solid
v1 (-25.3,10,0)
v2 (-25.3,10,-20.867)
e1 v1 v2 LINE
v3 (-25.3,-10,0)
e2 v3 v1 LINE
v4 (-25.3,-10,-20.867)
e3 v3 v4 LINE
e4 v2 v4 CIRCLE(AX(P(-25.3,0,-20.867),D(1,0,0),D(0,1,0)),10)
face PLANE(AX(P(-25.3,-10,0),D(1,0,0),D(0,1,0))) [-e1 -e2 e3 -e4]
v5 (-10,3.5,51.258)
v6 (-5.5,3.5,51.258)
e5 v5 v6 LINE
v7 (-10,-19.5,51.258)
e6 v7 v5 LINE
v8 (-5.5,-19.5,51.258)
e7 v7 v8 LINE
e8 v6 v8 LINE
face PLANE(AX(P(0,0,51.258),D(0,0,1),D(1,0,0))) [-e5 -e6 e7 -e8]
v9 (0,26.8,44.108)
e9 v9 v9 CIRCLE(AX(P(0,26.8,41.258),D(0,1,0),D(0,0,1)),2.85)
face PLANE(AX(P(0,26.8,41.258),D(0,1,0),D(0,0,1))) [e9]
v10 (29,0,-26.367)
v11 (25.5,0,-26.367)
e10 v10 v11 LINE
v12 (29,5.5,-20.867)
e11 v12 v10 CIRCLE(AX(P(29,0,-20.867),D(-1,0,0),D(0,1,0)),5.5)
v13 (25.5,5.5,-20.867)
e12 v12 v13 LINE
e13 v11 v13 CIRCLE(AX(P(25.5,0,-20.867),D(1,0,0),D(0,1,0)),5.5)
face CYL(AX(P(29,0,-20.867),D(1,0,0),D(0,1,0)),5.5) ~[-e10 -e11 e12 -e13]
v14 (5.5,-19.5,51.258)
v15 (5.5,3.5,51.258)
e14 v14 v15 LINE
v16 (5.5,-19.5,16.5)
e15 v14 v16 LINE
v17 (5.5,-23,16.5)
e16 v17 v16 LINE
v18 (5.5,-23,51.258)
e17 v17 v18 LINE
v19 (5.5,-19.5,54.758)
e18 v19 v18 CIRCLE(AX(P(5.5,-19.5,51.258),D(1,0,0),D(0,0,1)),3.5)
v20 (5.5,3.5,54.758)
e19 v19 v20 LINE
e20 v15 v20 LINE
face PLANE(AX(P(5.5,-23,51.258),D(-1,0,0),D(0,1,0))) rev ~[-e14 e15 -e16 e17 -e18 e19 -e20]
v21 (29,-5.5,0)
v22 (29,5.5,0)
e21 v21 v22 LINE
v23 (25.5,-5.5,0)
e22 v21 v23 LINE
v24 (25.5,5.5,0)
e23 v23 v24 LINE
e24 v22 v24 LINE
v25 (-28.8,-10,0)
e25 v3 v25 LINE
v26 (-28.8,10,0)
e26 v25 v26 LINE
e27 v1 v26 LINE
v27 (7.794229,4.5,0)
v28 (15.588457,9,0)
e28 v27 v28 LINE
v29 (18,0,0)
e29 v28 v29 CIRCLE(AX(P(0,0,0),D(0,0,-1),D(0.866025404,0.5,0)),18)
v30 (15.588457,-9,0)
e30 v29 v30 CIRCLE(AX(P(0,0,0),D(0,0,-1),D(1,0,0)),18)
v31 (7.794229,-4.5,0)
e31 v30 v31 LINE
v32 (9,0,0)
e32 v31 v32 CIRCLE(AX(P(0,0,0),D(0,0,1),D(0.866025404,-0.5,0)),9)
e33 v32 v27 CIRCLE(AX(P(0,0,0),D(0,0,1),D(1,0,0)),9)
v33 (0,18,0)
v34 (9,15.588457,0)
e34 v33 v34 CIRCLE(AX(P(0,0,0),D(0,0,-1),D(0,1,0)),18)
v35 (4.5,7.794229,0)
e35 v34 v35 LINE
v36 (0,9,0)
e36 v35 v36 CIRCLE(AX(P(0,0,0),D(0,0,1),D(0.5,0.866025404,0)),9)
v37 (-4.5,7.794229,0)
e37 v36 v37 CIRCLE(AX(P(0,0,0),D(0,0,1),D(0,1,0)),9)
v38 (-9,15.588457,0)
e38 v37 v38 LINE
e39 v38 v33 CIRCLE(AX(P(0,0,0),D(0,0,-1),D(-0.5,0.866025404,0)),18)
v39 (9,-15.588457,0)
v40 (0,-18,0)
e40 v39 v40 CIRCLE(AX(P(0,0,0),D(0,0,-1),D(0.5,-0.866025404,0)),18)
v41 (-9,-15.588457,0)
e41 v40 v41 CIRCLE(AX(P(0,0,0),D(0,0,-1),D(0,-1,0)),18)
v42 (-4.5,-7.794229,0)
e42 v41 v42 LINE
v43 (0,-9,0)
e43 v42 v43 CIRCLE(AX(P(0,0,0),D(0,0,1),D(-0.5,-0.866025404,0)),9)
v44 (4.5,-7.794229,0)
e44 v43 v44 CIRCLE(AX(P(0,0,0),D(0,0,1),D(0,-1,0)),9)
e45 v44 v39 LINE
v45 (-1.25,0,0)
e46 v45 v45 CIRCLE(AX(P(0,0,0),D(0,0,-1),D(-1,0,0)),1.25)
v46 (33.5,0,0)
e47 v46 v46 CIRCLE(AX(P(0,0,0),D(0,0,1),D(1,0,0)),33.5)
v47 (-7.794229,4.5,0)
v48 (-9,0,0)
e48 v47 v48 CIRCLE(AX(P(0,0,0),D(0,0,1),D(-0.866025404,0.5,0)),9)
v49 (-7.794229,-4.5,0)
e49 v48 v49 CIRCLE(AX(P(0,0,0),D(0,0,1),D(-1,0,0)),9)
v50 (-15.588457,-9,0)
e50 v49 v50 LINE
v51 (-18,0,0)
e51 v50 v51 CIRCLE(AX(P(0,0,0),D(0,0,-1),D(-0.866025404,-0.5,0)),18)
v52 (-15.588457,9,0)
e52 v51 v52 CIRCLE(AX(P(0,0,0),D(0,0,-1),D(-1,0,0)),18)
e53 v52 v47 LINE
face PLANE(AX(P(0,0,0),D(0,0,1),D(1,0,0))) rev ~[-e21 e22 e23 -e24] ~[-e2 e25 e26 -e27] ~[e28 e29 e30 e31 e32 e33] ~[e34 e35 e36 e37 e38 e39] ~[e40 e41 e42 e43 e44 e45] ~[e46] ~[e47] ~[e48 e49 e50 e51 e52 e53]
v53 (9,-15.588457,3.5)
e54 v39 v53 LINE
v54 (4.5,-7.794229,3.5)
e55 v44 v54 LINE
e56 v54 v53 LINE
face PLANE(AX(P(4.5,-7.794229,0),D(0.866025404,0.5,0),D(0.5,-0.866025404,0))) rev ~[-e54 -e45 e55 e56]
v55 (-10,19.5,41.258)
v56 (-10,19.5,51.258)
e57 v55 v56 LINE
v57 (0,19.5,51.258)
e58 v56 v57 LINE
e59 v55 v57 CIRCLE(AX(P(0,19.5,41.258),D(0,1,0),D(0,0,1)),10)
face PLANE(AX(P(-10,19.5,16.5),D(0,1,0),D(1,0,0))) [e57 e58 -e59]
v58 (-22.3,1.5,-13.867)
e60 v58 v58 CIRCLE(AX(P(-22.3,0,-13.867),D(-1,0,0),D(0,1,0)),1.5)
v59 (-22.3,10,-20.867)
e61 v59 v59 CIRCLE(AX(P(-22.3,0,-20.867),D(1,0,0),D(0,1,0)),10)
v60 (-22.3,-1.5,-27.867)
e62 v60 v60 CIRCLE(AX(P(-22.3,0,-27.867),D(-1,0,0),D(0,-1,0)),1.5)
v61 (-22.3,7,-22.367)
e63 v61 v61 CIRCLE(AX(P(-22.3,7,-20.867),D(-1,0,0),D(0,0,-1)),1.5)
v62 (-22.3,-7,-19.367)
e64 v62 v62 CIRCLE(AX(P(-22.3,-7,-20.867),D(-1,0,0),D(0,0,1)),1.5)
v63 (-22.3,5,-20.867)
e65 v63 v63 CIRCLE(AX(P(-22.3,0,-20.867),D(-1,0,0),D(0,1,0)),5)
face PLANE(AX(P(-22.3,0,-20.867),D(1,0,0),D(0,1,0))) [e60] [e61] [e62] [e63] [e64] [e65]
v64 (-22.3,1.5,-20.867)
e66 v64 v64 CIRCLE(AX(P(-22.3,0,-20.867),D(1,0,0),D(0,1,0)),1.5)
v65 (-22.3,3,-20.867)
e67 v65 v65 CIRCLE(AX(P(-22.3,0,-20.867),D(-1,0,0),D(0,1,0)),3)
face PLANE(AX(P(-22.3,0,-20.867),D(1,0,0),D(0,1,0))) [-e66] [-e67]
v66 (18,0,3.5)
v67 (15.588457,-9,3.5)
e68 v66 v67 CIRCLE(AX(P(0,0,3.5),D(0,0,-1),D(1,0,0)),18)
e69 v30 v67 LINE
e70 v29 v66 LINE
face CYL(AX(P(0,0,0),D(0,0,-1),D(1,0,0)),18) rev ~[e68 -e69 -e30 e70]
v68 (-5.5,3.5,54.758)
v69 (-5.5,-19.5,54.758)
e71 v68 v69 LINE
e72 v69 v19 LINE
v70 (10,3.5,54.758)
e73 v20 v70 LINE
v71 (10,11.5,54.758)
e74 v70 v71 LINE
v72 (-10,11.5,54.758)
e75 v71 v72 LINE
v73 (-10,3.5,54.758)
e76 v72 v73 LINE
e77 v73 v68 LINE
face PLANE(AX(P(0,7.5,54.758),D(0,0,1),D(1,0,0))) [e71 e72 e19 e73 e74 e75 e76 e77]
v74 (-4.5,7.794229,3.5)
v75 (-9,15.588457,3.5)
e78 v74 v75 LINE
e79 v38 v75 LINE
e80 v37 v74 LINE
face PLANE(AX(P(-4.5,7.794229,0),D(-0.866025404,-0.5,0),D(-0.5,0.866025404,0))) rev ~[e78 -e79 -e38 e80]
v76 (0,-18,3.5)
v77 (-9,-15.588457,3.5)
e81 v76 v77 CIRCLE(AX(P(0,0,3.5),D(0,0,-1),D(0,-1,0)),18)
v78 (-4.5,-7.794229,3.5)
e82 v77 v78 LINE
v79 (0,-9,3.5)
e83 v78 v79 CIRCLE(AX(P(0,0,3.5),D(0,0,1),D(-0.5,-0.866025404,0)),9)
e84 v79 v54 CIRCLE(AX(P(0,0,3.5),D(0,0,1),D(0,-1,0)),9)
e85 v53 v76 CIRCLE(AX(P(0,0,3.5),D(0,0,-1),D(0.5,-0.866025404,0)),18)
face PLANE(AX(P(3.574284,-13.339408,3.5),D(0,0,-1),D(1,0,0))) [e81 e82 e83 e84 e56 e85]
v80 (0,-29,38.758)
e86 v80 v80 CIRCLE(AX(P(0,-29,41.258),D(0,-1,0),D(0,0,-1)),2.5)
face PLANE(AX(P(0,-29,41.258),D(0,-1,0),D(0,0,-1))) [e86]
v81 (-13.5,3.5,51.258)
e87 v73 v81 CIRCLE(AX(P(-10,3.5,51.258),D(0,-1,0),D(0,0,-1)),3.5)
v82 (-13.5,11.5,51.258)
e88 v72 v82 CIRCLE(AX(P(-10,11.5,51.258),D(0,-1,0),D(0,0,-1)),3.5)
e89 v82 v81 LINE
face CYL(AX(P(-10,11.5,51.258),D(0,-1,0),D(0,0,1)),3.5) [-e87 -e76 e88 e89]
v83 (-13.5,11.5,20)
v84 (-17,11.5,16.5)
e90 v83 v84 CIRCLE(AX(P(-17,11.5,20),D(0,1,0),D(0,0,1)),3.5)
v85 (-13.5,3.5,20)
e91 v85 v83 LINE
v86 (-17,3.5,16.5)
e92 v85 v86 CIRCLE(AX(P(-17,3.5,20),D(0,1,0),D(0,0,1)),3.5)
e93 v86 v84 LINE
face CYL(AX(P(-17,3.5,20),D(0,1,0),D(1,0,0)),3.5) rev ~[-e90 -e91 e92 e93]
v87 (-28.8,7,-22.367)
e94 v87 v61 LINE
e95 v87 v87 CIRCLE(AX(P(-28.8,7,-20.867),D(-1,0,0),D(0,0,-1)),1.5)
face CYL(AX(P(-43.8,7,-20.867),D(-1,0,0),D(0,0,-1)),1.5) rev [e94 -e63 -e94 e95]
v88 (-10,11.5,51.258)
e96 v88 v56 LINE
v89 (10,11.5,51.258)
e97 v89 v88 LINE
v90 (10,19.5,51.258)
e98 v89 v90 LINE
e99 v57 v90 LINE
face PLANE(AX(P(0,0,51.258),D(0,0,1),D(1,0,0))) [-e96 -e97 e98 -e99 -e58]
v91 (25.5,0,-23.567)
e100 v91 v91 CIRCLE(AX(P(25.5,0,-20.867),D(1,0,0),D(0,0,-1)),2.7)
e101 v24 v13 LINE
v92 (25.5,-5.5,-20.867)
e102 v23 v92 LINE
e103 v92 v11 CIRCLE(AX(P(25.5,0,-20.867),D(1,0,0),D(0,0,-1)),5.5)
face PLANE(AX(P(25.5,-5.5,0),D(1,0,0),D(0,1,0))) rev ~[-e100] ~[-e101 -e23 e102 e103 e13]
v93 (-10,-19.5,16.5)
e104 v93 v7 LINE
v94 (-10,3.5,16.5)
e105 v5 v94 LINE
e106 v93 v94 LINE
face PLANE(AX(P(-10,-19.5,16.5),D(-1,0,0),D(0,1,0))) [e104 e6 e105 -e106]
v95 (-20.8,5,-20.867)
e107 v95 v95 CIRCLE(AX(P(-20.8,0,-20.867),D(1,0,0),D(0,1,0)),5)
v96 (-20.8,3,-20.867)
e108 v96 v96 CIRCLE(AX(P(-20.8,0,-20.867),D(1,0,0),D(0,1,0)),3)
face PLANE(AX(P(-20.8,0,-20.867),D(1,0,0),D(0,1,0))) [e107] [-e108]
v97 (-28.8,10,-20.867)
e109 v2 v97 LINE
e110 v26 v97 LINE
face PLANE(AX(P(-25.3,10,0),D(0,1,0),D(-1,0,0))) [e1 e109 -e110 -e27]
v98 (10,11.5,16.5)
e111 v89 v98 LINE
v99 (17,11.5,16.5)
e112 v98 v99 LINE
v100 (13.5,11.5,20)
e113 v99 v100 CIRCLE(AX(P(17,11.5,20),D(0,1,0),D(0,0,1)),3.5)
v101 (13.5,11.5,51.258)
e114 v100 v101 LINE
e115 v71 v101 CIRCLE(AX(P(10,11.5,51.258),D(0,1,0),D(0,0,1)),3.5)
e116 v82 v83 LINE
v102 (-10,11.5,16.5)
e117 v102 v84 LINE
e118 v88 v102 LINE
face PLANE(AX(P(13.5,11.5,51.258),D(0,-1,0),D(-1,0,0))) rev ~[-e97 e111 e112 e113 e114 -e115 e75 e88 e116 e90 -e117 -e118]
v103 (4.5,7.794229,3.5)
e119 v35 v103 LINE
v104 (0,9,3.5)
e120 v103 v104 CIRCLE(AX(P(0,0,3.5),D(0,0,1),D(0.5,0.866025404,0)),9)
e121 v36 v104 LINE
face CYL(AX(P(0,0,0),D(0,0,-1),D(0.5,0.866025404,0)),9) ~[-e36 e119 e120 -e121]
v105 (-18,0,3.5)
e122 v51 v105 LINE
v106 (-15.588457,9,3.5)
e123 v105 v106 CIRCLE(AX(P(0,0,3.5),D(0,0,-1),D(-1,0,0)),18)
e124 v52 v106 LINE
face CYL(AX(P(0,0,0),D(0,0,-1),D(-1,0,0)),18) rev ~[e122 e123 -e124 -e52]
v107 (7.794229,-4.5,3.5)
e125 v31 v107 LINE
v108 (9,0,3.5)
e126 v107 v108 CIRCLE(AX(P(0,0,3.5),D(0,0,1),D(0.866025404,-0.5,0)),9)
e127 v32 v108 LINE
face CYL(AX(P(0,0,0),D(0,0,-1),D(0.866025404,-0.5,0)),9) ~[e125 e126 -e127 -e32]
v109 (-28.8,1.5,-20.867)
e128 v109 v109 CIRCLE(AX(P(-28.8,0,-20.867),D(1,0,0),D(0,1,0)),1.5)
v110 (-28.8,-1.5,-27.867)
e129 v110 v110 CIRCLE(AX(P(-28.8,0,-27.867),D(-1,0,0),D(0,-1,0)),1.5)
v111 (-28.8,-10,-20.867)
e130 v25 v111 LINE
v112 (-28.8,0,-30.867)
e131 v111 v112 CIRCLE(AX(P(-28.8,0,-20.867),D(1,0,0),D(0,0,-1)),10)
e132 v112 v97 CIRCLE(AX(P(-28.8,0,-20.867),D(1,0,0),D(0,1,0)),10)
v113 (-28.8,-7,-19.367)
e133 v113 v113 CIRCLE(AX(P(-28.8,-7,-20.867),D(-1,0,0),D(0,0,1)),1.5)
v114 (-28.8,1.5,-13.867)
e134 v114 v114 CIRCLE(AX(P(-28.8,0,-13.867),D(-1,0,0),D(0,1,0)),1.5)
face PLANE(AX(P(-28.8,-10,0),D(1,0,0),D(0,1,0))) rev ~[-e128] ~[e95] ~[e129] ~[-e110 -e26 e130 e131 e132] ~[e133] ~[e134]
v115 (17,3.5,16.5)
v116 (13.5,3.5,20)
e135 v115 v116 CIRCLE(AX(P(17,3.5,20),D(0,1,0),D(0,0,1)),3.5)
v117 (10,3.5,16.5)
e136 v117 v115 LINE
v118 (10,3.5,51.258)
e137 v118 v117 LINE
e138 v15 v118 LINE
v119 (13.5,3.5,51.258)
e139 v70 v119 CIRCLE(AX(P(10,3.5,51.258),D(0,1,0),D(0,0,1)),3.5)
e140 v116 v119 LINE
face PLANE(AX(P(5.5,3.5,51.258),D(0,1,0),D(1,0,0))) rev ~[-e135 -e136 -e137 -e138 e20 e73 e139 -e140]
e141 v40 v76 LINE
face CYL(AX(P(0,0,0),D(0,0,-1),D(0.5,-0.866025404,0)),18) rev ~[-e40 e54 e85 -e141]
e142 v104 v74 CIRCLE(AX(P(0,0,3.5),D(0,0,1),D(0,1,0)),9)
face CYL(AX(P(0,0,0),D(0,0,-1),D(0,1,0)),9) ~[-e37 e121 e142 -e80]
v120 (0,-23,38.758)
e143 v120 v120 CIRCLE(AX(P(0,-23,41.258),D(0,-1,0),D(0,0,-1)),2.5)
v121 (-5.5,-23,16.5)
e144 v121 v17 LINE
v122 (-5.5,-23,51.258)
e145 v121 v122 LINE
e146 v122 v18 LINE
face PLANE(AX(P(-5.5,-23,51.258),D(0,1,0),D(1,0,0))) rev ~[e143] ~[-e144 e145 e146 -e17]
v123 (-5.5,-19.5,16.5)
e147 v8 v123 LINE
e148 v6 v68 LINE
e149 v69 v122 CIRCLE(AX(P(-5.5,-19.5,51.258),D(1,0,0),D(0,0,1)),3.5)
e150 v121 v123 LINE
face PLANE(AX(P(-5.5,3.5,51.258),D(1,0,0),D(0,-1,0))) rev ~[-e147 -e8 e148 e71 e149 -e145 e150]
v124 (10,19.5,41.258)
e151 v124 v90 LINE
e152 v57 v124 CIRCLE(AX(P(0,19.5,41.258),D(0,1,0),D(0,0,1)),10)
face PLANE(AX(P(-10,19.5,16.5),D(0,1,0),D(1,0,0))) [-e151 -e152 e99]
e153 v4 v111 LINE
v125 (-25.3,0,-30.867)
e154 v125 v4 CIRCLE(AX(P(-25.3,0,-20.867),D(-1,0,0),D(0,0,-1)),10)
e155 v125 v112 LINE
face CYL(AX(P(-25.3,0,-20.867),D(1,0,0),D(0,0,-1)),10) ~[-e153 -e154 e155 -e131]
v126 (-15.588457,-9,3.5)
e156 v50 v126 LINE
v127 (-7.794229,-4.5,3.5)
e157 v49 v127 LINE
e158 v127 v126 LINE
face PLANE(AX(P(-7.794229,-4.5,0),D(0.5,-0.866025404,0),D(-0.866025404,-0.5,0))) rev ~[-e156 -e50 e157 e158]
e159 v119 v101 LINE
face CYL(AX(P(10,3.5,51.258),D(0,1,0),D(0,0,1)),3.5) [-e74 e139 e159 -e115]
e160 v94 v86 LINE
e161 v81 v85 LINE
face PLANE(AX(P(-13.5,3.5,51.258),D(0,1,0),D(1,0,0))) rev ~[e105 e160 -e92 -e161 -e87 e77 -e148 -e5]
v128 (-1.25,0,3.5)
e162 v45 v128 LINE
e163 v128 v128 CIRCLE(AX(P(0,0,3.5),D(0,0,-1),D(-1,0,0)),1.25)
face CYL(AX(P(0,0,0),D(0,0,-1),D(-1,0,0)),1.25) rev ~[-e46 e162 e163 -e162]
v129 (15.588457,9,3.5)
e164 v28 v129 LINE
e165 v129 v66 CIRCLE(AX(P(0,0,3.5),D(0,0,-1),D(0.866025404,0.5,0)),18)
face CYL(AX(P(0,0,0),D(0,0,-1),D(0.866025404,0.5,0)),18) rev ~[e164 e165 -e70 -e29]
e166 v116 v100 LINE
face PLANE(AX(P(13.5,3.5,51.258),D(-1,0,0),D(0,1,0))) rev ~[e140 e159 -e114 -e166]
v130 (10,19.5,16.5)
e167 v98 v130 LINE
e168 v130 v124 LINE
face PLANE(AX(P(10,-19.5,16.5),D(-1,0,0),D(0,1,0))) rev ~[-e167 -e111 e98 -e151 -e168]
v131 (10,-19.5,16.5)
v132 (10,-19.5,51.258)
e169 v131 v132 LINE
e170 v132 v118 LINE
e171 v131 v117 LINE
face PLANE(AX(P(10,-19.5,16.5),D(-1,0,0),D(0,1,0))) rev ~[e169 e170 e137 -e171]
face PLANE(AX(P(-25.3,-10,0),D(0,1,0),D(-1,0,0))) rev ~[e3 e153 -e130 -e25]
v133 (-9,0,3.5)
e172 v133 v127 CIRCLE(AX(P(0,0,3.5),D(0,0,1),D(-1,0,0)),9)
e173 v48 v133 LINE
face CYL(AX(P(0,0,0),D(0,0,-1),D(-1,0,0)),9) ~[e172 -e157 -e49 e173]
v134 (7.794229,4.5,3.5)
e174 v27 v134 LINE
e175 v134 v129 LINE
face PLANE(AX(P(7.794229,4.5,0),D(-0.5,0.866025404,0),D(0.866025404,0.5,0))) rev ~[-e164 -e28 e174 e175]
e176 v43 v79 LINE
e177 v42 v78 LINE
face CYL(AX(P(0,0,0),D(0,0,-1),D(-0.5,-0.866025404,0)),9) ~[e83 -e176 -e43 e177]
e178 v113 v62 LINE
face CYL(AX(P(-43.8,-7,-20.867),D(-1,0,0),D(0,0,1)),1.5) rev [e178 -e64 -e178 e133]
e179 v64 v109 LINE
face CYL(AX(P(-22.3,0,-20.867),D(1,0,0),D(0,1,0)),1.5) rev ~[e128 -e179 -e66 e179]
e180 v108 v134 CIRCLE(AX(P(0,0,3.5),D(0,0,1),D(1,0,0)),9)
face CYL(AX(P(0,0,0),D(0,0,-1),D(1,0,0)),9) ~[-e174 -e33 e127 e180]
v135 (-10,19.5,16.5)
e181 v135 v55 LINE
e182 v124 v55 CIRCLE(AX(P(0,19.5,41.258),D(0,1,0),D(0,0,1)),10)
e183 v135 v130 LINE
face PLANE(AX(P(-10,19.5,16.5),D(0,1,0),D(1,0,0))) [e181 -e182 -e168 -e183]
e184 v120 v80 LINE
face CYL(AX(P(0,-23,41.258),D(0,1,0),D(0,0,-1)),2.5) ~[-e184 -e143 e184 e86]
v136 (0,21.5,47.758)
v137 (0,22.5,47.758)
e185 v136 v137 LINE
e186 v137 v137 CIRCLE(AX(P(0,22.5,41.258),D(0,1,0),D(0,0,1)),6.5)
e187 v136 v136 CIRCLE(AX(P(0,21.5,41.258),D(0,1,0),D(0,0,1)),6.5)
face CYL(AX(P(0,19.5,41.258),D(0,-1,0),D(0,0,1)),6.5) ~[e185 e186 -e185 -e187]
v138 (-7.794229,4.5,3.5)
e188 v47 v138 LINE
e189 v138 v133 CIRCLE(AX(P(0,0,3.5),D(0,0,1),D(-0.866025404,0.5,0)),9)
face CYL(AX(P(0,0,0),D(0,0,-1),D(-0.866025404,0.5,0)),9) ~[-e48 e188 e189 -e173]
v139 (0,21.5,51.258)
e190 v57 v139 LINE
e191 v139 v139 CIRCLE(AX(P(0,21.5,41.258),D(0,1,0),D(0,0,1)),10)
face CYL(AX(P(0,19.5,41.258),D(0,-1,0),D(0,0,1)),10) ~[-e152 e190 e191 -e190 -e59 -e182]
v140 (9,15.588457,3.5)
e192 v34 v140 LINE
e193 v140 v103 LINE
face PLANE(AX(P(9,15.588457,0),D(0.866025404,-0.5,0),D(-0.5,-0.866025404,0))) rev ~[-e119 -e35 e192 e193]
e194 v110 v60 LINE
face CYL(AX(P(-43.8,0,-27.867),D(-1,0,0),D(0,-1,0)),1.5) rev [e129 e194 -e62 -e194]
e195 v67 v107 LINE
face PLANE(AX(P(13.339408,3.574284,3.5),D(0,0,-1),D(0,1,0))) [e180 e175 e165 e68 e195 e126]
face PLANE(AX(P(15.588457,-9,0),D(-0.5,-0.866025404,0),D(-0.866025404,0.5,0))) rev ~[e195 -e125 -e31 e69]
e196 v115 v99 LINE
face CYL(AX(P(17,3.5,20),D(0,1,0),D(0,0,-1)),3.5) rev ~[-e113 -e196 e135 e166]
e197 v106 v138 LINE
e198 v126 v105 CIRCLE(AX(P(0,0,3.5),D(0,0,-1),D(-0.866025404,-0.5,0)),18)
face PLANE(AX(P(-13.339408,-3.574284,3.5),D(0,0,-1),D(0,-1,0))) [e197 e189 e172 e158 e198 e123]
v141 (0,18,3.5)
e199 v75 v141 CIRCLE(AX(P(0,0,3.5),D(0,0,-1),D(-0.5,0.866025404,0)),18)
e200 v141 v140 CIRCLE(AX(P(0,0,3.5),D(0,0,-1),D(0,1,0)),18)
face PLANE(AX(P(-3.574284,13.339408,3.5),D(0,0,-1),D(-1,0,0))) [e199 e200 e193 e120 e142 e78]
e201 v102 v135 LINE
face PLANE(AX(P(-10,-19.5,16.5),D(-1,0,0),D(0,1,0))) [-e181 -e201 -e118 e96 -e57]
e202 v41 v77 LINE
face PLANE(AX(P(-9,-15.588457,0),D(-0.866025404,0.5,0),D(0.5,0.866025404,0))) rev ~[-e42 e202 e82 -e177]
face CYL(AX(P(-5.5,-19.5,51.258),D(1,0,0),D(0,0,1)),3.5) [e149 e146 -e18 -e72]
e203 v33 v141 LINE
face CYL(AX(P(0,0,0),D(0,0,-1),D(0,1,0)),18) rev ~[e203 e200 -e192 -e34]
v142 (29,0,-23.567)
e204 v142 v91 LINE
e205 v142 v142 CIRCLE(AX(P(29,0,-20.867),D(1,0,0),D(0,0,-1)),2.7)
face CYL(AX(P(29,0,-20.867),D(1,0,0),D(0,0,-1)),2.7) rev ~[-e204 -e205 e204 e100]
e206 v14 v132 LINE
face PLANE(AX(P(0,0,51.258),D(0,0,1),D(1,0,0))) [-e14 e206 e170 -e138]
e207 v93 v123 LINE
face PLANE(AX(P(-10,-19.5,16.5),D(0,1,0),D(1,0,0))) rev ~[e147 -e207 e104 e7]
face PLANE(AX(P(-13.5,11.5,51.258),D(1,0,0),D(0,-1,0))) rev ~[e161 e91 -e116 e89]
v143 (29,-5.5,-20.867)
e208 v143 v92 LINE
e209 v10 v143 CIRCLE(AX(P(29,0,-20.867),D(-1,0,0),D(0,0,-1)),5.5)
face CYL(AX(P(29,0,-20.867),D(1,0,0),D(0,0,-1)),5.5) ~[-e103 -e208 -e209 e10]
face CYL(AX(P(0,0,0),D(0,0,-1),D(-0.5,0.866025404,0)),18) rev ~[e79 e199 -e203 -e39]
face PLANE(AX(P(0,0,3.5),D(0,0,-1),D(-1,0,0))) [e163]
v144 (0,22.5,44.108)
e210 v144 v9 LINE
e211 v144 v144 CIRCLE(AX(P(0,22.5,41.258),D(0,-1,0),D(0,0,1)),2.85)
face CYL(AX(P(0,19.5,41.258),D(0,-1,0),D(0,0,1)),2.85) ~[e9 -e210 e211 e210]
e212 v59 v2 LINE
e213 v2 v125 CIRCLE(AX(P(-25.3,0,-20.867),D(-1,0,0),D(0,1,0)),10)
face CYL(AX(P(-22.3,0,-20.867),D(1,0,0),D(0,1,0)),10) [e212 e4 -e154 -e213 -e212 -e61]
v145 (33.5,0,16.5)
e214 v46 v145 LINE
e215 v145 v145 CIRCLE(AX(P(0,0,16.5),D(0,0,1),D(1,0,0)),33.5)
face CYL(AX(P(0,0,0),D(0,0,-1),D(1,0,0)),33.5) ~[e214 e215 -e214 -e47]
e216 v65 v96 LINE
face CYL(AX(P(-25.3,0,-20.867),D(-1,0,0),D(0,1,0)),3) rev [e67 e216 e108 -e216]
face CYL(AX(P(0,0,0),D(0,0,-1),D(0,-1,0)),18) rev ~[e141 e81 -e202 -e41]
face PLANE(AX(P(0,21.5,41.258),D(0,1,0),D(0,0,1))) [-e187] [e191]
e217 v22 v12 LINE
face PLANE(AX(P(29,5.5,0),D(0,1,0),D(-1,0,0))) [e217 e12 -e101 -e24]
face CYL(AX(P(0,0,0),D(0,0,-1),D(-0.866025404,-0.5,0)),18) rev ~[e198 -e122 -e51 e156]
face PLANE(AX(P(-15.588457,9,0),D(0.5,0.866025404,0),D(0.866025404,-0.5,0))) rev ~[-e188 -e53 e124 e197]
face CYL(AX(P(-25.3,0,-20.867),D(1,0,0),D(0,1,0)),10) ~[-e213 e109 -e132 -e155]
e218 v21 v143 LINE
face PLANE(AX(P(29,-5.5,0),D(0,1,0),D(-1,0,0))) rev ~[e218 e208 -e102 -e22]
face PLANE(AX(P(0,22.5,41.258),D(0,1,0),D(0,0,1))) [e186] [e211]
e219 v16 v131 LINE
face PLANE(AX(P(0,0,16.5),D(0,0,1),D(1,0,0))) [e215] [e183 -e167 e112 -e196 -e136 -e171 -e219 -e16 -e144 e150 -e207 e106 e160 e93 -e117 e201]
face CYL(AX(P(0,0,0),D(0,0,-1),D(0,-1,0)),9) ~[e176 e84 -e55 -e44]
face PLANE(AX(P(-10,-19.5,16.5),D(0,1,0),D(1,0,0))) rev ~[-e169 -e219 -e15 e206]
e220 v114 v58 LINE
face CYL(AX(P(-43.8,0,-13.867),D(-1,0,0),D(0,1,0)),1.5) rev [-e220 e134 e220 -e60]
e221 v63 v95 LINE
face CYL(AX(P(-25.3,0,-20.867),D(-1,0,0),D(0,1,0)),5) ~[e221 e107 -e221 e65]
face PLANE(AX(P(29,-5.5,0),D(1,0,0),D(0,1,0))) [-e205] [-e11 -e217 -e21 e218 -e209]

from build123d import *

# Parameters (mm, degrees)
SKETCH1_R            = 33.5
BOSS_EXTRUDE3_DEPTH  = 16.5
SKETCH2_W            = 20
SKETCH2_H            = 39
BOSS_EXTRUDE4_DEPTH  = 34.758
SKETCH3_R            = 10
SKETCH3_R_2          = 6.5
BOSS_EXTRUDE5_DEPTH  = 2
SKETCH3_3_R          = 6.5
BOSS_EXTRUDE6_DEPTH  = 3
SKETCH3_4_R          = 2.85
BOSS_EXTRUDE7_DEPTH  = 7.3
SKETCH5_W            = 11
SKETCH5_H            = 3.5
SKETCH5_W_2          = 3.5
SKETCH5_H_2          = 8
BOSS_EXTRUDE8_DEPTH  = 34.758
SKETCH6_W            = 11
SKETCH6_H            = 8
BOSS_EXTRUDE9_DEPTH  = 3.5
SKETCH7_R            = 2.5
BOSS_EXTRUDE10_DEPTH = 6
FILLET1_R            = 3.5
FILLET2_R            = 3.5
FILLET3_R            = 3.5
FILLET4_R            = 3.5
SKETCH9_W            = 3.5
SKETCH9_H            = 20
BOSS_EXTRUDE11_DEPTH = 30.867
SKETCH9_3_W          = 3.5
SKETCH9_3_H          = 11
BOSS_EXTRUDE12_DEPTH = 27
CUT_EXTRUDE1_DEPTH   = 88.052447203
BOSS_EXTRUDE13_START = 3
SKETCH10_3_R         = 10
BOSS_EXTRUDE13_DEPTH = 3
SKETCH10_4_R         = 5
SKETCH10_4_R_2       = 3
BOSS_EXTRUDE14_DEPTH = 4.5
CUT_EXTRUDE4_START   = -18.5
SKETCH10_7_R         = 1.5
CUT_EXTRUDE4_DEPTH   = 34.5
CIRPATTERN3_COUNT    = 4
SKETCH11_R           = 1.5
CUT_EXTRUDE6_DEPTH   = 86.054856205
SKETCH13_R           = 2.7
CUT_EXTRUDE10_DEPTH  = 15.5
CUT_EXTRUDE11_DEPTH  = 3.5
CIRPATTERN4_COUNT    = 4
SKETCH14_3_R         = 1.25
CUT_EXTRUDE12_DEPTH  = 3.5


with BuildPart() as part:
    # Sketch1 → Boss-Extrude3 (new body)
    with BuildSketch(Plane.XY):
        Circle(SKETCH1_R)
    extrude(amount=BOSS_EXTRUDE3_DEPTH)

    # Sketch2 → Boss-Extrude4 (add)
    with BuildSketch(Plane.XY.offset(16.5)):
        Rectangle(SKETCH2_W, SKETCH2_H)
    extrude(amount=BOSS_EXTRUDE4_DEPTH)

    # Sketch3 → Boss-Extrude5 (add)
    with BuildSketch(Plane(origin=(0, 19.5, 0), x_dir=(1, 0, 0), z_dir=(0, 1, 0))):
        with Locations(Location((0, -41.258, 0), (0, 0, 270))):
            Circle(SKETCH3_R)
        with Locations(Location((0, -41.258, 0), (0, 0, 270))):
            Circle(SKETCH3_R_2, mode=Mode.SUBTRACT)
    extrude(amount=BOSS_EXTRUDE5_DEPTH)

    # Sketch3<3> → Boss-Extrude6 (add)
    with BuildSketch(Plane(origin=(0, 19.5, 0), x_dir=(1, 0, 0), z_dir=(0, 1, 0))):
        with Locations(Location((0, -41.258, 0), (0, 0, 270))):
            Circle(SKETCH3_3_R)
    extrude(amount=BOSS_EXTRUDE6_DEPTH)

    # Sketch3<4> → Boss-Extrude7 (add)
    with BuildSketch(Plane(origin=(0, 19.5, 0), x_dir=(1, 0, 0), z_dir=(0, 1, 0))):
        with Locations(Location((0, -41.258, 0), (0, 0, 270))):
            Circle(SKETCH3_4_R)
    extrude(amount=BOSS_EXTRUDE7_DEPTH)

    # Sketch5 → Boss-Extrude8 (add)
    with BuildSketch(Plane.XY.offset(51.258)):
        with Locations((0, -21.25)):
            Rectangle(SKETCH5_W, SKETCH5_H)
        with Locations((11.75, 7.5)):
            Rectangle(SKETCH5_W_2, SKETCH5_H_2)
        with Locations((-11.75, 7.5)):
            Rectangle(SKETCH5_W_2, SKETCH5_H_2)
    extrude(amount=-BOSS_EXTRUDE8_DEPTH)

    # Sketch6 → Boss-Extrude9 (add)
    with BuildSketch(Plane.XY.offset(51.258)):
        with Locations((0, 7.5)):
            Rectangle(SKETCH6_W, SKETCH6_H)
        Polygon((10, 11.5), (5.5, 11.5), (5.5, 3.5), (10, 3.5), (13.5, 3.5), (13.5, 11.5), align=None)
        Polygon((5.5, 3.5), (-5.5, 3.5), (-5.5, -19.5), (-5.5, -23), (5.5, -23), (5.5, -19.5), align=None)
        Polygon((-10, 11.5), (-13.5, 11.5), (-13.5, 3.5), (-10, 3.5), (-5.5, 3.5), (-5.5, 11.5), align=None)
    extrude(amount=BOSS_EXTRUDE9_DEPTH)

    # Sketch7 → Boss-Extrude10 (add)
    with BuildSketch(Plane.XZ.offset(23)):
        with Locations(Location((0, 41.258, 0), (0, 0, 270))):
            Circle(SKETCH7_R)
    extrude(amount=BOSS_EXTRUDE10_DEPTH)

    # Fillet1
    fillet1_edges = [part.edges().sort_by_distance(p)[0] for p in [
        (-13.5, 7.5, 54.758),
        (13.5, 7.5, 54.758),
    ]]
    fillet(fillet1_edges, radius=FILLET1_R)

    # Fillet2
    fillet2_edges = [part.edges().sort_by_distance(p)[0] for p in [
        (0, -23, 54.758),
    ]]
    fillet(fillet2_edges, radius=FILLET2_R)

    # Fillet3
    fillet3_edges = [part.edges().sort_by_distance(p)[0] for p in [
        (13.5, 7.5, 16.5),
    ]]
    fillet(fillet3_edges, radius=FILLET3_R)

    # Fillet4
    fillet4_edges = [part.edges().sort_by_distance(p)[0] for p in [
        (-13.5, 7.5, 16.5),
    ]]
    fillet(fillet4_edges, radius=FILLET4_R)

    # Sketch9 → Boss-Extrude11 (add)
    with BuildSketch(Plane(origin=(0, 0, 0), x_dir=(-1, 0, 0), z_dir=(0, 0, -1))):
        with Locations((27.05, 0)):
            Rectangle(SKETCH9_W, SKETCH9_H)
    extrude(amount=BOSS_EXTRUDE11_DEPTH)

    # Sketch9<3> → Boss-Extrude12 (add)
    with BuildSketch(Plane(origin=(0, 0, 0), x_dir=(-1, 0, 0), z_dir=(0, 0, -1))):
        with Locations((-27.25, 0)):
            Rectangle(SKETCH9_3_W, SKETCH9_3_H)
    extrude(amount=BOSS_EXTRUDE12_DEPTH)

    # Sketch10 → Cut-Extrude1 (cut, through all)
    with BuildSketch(Plane(origin=(-25.3, 0, 0), x_dir=(0, 0, -1), z_dir=(1, 0, 0))):
        with BuildLine():
            ThreePointArc((20.867, 10), (27.938067812, 7.071067812), (30.867, 0))
            Line((30.867, 0), (30.867, 10))
            Line((30.867, 10), (20.867, 10))
        make_face()
        with BuildLine():
            Line((30.867, -10), (30.867, 0))
            ThreePointArc((30.867, 0), (27.938067812, -7.071067812), (20.867, -10))
            Line((20.867, -10), (30.867, -10))
        make_face()
    extrude(amount=-CUT_EXTRUDE1_DEPTH, mode=Mode.SUBTRACT)

    # Sketch10<3> → Boss-Extrude13 (add)
    with BuildSketch(Plane(origin=(-25.3, 0, 0), x_dir=(0, 0, -1), z_dir=(1, 0, 0)).offset(BOSS_EXTRUDE13_START)):
        with Locations(Location((20.867, 0, 0), (0, 0, 90))):
            Circle(SKETCH10_3_R)
    extrude(amount=-BOSS_EXTRUDE13_DEPTH)

    # Sketch10<4> → Boss-Extrude14 (add)
    with BuildSketch(Plane(origin=(-25.3, 0, 0), x_dir=(0, 0, -1), z_dir=(1, 0, 0))):
        with Locations(Location((20.867, 0, 0), (0, 0, 90))):
            Circle(SKETCH10_4_R)
        with Locations(Location((20.867, 0, 0), (0, 0, 90))):
            Circle(SKETCH10_4_R_2, mode=Mode.SUBTRACT)
    extrude(amount=BOSS_EXTRUDE14_DEPTH)

    # Sketch10<7> → Cut-Extrude4 (cut)
    with BuildSketch(Plane(origin=(-25.3, 0, 0), x_dir=(0, 0, -1), z_dir=(1, 0, 0)).offset(CUT_EXTRUDE4_START)):
        with Locations(Location((20.867, -7, 0), (0, 0, 180))):
            Circle(SKETCH10_7_R)
    cut_extrude4 = extrude(amount=CUT_EXTRUDE4_DEPTH, mode=Mode.SUBTRACT)

    # CirPattern3: Cut-Extrude4 ×4 about axis
    cirpattern3_axis = Axis((0, 0, -20.867), (1, 0, 0))
    for i in range(1, CIRPATTERN3_COUNT):
        add(cut_extrude4.rotate(cirpattern3_axis, i * 360 / CIRPATTERN3_COUNT), mode=Mode.SUBTRACT)

    # Sketch11 → Cut-Extrude6 (cut, through all)
    with BuildSketch(Plane(origin=(-22.3, 0, 0), x_dir=(0, 0, -1), z_dir=(1, 0, 0))):
        with Locations(Location((20.867, 0, 0), (0, 0, 90))):
            Circle(SKETCH11_R)
    extrude(amount=-CUT_EXTRUDE6_DEPTH, mode=Mode.SUBTRACT)

    # Sketch13 → Cut-Extrude10 (cut)
    with BuildSketch(Plane(origin=(29, 0, 0), x_dir=(0, 0, -1), z_dir=(1, 0, 0))):
        with BuildLine():
            ThreePointArc((20.867, 5.5), (24.756087297, 3.889087297), (26.367, 0))
            ThreePointArc((26.367, 0), (24.756087297, -3.889087297), (20.867, -5.5))
            Line((20.867, -5.5), (27, -5.5))
            Line((27, -5.5), (27, 5.5))
            Line((27, 5.5), (20.867, 5.5))
        make_face()
        with Locations((20.867, 0)):
            Circle(SKETCH13_R)
    extrude(amount=-CUT_EXTRUDE10_DEPTH, mode=Mode.SUBTRACT)

    # Sketch14 → Cut-Extrude11 (cut)
    with BuildSketch(Plane(origin=(0, 0, 0), x_dir=(-1, 0, 0), z_dir=(0, 0, -1))):
        with BuildLine():
            Line((0, 18), (0, 9))
            ThreePointArc((0, 9), (2.329371406, 8.693332437), (4.5, 7.794228634))
            Line((4.5, 7.794228634), (9, 15.588457268))
            ThreePointArc((9, 15.588457268), (4.658742812, 17.386664873), (0, 18))
        make_face()
        with BuildLine():
            ThreePointArc((-4.5, 7.794228634), (-2.329371406, 8.693332437), (0, 9))
            Line((0, 9), (0, 18))
            ThreePointArc((0, 18), (-4.658742812, 17.386664873), (-9, 15.588457268))
            Line((-9, 15.588457268), (-4.5, 7.794228634))
        make_face()
    cut_extrude11 = extrude(amount=-CUT_EXTRUDE11_DEPTH, mode=Mode.SUBTRACT)

    # CirPattern4: Cut-Extrude11 ×4 about axis
    cirpattern4_axis = Axis((0, 0, 0), (0, 0, 1))
    for i in range(1, CIRPATTERN4_COUNT):
        add(cut_extrude11.rotate(cirpattern4_axis, i * 360 / CIRPATTERN4_COUNT), mode=Mode.SUBTRACT)

    # Sketch14<3> → Cut-Extrude12 (cut)
    with BuildSketch(Plane(origin=(0, 0, 0), x_dir=(-1, 0, 0), z_dir=(0, 0, -1))):
        Circle(SKETCH14_3_R)
    extrude(amount=-CUT_EXTRUDE12_DEPTH, mode=Mode.SUBTRACT)


solid = part.part
